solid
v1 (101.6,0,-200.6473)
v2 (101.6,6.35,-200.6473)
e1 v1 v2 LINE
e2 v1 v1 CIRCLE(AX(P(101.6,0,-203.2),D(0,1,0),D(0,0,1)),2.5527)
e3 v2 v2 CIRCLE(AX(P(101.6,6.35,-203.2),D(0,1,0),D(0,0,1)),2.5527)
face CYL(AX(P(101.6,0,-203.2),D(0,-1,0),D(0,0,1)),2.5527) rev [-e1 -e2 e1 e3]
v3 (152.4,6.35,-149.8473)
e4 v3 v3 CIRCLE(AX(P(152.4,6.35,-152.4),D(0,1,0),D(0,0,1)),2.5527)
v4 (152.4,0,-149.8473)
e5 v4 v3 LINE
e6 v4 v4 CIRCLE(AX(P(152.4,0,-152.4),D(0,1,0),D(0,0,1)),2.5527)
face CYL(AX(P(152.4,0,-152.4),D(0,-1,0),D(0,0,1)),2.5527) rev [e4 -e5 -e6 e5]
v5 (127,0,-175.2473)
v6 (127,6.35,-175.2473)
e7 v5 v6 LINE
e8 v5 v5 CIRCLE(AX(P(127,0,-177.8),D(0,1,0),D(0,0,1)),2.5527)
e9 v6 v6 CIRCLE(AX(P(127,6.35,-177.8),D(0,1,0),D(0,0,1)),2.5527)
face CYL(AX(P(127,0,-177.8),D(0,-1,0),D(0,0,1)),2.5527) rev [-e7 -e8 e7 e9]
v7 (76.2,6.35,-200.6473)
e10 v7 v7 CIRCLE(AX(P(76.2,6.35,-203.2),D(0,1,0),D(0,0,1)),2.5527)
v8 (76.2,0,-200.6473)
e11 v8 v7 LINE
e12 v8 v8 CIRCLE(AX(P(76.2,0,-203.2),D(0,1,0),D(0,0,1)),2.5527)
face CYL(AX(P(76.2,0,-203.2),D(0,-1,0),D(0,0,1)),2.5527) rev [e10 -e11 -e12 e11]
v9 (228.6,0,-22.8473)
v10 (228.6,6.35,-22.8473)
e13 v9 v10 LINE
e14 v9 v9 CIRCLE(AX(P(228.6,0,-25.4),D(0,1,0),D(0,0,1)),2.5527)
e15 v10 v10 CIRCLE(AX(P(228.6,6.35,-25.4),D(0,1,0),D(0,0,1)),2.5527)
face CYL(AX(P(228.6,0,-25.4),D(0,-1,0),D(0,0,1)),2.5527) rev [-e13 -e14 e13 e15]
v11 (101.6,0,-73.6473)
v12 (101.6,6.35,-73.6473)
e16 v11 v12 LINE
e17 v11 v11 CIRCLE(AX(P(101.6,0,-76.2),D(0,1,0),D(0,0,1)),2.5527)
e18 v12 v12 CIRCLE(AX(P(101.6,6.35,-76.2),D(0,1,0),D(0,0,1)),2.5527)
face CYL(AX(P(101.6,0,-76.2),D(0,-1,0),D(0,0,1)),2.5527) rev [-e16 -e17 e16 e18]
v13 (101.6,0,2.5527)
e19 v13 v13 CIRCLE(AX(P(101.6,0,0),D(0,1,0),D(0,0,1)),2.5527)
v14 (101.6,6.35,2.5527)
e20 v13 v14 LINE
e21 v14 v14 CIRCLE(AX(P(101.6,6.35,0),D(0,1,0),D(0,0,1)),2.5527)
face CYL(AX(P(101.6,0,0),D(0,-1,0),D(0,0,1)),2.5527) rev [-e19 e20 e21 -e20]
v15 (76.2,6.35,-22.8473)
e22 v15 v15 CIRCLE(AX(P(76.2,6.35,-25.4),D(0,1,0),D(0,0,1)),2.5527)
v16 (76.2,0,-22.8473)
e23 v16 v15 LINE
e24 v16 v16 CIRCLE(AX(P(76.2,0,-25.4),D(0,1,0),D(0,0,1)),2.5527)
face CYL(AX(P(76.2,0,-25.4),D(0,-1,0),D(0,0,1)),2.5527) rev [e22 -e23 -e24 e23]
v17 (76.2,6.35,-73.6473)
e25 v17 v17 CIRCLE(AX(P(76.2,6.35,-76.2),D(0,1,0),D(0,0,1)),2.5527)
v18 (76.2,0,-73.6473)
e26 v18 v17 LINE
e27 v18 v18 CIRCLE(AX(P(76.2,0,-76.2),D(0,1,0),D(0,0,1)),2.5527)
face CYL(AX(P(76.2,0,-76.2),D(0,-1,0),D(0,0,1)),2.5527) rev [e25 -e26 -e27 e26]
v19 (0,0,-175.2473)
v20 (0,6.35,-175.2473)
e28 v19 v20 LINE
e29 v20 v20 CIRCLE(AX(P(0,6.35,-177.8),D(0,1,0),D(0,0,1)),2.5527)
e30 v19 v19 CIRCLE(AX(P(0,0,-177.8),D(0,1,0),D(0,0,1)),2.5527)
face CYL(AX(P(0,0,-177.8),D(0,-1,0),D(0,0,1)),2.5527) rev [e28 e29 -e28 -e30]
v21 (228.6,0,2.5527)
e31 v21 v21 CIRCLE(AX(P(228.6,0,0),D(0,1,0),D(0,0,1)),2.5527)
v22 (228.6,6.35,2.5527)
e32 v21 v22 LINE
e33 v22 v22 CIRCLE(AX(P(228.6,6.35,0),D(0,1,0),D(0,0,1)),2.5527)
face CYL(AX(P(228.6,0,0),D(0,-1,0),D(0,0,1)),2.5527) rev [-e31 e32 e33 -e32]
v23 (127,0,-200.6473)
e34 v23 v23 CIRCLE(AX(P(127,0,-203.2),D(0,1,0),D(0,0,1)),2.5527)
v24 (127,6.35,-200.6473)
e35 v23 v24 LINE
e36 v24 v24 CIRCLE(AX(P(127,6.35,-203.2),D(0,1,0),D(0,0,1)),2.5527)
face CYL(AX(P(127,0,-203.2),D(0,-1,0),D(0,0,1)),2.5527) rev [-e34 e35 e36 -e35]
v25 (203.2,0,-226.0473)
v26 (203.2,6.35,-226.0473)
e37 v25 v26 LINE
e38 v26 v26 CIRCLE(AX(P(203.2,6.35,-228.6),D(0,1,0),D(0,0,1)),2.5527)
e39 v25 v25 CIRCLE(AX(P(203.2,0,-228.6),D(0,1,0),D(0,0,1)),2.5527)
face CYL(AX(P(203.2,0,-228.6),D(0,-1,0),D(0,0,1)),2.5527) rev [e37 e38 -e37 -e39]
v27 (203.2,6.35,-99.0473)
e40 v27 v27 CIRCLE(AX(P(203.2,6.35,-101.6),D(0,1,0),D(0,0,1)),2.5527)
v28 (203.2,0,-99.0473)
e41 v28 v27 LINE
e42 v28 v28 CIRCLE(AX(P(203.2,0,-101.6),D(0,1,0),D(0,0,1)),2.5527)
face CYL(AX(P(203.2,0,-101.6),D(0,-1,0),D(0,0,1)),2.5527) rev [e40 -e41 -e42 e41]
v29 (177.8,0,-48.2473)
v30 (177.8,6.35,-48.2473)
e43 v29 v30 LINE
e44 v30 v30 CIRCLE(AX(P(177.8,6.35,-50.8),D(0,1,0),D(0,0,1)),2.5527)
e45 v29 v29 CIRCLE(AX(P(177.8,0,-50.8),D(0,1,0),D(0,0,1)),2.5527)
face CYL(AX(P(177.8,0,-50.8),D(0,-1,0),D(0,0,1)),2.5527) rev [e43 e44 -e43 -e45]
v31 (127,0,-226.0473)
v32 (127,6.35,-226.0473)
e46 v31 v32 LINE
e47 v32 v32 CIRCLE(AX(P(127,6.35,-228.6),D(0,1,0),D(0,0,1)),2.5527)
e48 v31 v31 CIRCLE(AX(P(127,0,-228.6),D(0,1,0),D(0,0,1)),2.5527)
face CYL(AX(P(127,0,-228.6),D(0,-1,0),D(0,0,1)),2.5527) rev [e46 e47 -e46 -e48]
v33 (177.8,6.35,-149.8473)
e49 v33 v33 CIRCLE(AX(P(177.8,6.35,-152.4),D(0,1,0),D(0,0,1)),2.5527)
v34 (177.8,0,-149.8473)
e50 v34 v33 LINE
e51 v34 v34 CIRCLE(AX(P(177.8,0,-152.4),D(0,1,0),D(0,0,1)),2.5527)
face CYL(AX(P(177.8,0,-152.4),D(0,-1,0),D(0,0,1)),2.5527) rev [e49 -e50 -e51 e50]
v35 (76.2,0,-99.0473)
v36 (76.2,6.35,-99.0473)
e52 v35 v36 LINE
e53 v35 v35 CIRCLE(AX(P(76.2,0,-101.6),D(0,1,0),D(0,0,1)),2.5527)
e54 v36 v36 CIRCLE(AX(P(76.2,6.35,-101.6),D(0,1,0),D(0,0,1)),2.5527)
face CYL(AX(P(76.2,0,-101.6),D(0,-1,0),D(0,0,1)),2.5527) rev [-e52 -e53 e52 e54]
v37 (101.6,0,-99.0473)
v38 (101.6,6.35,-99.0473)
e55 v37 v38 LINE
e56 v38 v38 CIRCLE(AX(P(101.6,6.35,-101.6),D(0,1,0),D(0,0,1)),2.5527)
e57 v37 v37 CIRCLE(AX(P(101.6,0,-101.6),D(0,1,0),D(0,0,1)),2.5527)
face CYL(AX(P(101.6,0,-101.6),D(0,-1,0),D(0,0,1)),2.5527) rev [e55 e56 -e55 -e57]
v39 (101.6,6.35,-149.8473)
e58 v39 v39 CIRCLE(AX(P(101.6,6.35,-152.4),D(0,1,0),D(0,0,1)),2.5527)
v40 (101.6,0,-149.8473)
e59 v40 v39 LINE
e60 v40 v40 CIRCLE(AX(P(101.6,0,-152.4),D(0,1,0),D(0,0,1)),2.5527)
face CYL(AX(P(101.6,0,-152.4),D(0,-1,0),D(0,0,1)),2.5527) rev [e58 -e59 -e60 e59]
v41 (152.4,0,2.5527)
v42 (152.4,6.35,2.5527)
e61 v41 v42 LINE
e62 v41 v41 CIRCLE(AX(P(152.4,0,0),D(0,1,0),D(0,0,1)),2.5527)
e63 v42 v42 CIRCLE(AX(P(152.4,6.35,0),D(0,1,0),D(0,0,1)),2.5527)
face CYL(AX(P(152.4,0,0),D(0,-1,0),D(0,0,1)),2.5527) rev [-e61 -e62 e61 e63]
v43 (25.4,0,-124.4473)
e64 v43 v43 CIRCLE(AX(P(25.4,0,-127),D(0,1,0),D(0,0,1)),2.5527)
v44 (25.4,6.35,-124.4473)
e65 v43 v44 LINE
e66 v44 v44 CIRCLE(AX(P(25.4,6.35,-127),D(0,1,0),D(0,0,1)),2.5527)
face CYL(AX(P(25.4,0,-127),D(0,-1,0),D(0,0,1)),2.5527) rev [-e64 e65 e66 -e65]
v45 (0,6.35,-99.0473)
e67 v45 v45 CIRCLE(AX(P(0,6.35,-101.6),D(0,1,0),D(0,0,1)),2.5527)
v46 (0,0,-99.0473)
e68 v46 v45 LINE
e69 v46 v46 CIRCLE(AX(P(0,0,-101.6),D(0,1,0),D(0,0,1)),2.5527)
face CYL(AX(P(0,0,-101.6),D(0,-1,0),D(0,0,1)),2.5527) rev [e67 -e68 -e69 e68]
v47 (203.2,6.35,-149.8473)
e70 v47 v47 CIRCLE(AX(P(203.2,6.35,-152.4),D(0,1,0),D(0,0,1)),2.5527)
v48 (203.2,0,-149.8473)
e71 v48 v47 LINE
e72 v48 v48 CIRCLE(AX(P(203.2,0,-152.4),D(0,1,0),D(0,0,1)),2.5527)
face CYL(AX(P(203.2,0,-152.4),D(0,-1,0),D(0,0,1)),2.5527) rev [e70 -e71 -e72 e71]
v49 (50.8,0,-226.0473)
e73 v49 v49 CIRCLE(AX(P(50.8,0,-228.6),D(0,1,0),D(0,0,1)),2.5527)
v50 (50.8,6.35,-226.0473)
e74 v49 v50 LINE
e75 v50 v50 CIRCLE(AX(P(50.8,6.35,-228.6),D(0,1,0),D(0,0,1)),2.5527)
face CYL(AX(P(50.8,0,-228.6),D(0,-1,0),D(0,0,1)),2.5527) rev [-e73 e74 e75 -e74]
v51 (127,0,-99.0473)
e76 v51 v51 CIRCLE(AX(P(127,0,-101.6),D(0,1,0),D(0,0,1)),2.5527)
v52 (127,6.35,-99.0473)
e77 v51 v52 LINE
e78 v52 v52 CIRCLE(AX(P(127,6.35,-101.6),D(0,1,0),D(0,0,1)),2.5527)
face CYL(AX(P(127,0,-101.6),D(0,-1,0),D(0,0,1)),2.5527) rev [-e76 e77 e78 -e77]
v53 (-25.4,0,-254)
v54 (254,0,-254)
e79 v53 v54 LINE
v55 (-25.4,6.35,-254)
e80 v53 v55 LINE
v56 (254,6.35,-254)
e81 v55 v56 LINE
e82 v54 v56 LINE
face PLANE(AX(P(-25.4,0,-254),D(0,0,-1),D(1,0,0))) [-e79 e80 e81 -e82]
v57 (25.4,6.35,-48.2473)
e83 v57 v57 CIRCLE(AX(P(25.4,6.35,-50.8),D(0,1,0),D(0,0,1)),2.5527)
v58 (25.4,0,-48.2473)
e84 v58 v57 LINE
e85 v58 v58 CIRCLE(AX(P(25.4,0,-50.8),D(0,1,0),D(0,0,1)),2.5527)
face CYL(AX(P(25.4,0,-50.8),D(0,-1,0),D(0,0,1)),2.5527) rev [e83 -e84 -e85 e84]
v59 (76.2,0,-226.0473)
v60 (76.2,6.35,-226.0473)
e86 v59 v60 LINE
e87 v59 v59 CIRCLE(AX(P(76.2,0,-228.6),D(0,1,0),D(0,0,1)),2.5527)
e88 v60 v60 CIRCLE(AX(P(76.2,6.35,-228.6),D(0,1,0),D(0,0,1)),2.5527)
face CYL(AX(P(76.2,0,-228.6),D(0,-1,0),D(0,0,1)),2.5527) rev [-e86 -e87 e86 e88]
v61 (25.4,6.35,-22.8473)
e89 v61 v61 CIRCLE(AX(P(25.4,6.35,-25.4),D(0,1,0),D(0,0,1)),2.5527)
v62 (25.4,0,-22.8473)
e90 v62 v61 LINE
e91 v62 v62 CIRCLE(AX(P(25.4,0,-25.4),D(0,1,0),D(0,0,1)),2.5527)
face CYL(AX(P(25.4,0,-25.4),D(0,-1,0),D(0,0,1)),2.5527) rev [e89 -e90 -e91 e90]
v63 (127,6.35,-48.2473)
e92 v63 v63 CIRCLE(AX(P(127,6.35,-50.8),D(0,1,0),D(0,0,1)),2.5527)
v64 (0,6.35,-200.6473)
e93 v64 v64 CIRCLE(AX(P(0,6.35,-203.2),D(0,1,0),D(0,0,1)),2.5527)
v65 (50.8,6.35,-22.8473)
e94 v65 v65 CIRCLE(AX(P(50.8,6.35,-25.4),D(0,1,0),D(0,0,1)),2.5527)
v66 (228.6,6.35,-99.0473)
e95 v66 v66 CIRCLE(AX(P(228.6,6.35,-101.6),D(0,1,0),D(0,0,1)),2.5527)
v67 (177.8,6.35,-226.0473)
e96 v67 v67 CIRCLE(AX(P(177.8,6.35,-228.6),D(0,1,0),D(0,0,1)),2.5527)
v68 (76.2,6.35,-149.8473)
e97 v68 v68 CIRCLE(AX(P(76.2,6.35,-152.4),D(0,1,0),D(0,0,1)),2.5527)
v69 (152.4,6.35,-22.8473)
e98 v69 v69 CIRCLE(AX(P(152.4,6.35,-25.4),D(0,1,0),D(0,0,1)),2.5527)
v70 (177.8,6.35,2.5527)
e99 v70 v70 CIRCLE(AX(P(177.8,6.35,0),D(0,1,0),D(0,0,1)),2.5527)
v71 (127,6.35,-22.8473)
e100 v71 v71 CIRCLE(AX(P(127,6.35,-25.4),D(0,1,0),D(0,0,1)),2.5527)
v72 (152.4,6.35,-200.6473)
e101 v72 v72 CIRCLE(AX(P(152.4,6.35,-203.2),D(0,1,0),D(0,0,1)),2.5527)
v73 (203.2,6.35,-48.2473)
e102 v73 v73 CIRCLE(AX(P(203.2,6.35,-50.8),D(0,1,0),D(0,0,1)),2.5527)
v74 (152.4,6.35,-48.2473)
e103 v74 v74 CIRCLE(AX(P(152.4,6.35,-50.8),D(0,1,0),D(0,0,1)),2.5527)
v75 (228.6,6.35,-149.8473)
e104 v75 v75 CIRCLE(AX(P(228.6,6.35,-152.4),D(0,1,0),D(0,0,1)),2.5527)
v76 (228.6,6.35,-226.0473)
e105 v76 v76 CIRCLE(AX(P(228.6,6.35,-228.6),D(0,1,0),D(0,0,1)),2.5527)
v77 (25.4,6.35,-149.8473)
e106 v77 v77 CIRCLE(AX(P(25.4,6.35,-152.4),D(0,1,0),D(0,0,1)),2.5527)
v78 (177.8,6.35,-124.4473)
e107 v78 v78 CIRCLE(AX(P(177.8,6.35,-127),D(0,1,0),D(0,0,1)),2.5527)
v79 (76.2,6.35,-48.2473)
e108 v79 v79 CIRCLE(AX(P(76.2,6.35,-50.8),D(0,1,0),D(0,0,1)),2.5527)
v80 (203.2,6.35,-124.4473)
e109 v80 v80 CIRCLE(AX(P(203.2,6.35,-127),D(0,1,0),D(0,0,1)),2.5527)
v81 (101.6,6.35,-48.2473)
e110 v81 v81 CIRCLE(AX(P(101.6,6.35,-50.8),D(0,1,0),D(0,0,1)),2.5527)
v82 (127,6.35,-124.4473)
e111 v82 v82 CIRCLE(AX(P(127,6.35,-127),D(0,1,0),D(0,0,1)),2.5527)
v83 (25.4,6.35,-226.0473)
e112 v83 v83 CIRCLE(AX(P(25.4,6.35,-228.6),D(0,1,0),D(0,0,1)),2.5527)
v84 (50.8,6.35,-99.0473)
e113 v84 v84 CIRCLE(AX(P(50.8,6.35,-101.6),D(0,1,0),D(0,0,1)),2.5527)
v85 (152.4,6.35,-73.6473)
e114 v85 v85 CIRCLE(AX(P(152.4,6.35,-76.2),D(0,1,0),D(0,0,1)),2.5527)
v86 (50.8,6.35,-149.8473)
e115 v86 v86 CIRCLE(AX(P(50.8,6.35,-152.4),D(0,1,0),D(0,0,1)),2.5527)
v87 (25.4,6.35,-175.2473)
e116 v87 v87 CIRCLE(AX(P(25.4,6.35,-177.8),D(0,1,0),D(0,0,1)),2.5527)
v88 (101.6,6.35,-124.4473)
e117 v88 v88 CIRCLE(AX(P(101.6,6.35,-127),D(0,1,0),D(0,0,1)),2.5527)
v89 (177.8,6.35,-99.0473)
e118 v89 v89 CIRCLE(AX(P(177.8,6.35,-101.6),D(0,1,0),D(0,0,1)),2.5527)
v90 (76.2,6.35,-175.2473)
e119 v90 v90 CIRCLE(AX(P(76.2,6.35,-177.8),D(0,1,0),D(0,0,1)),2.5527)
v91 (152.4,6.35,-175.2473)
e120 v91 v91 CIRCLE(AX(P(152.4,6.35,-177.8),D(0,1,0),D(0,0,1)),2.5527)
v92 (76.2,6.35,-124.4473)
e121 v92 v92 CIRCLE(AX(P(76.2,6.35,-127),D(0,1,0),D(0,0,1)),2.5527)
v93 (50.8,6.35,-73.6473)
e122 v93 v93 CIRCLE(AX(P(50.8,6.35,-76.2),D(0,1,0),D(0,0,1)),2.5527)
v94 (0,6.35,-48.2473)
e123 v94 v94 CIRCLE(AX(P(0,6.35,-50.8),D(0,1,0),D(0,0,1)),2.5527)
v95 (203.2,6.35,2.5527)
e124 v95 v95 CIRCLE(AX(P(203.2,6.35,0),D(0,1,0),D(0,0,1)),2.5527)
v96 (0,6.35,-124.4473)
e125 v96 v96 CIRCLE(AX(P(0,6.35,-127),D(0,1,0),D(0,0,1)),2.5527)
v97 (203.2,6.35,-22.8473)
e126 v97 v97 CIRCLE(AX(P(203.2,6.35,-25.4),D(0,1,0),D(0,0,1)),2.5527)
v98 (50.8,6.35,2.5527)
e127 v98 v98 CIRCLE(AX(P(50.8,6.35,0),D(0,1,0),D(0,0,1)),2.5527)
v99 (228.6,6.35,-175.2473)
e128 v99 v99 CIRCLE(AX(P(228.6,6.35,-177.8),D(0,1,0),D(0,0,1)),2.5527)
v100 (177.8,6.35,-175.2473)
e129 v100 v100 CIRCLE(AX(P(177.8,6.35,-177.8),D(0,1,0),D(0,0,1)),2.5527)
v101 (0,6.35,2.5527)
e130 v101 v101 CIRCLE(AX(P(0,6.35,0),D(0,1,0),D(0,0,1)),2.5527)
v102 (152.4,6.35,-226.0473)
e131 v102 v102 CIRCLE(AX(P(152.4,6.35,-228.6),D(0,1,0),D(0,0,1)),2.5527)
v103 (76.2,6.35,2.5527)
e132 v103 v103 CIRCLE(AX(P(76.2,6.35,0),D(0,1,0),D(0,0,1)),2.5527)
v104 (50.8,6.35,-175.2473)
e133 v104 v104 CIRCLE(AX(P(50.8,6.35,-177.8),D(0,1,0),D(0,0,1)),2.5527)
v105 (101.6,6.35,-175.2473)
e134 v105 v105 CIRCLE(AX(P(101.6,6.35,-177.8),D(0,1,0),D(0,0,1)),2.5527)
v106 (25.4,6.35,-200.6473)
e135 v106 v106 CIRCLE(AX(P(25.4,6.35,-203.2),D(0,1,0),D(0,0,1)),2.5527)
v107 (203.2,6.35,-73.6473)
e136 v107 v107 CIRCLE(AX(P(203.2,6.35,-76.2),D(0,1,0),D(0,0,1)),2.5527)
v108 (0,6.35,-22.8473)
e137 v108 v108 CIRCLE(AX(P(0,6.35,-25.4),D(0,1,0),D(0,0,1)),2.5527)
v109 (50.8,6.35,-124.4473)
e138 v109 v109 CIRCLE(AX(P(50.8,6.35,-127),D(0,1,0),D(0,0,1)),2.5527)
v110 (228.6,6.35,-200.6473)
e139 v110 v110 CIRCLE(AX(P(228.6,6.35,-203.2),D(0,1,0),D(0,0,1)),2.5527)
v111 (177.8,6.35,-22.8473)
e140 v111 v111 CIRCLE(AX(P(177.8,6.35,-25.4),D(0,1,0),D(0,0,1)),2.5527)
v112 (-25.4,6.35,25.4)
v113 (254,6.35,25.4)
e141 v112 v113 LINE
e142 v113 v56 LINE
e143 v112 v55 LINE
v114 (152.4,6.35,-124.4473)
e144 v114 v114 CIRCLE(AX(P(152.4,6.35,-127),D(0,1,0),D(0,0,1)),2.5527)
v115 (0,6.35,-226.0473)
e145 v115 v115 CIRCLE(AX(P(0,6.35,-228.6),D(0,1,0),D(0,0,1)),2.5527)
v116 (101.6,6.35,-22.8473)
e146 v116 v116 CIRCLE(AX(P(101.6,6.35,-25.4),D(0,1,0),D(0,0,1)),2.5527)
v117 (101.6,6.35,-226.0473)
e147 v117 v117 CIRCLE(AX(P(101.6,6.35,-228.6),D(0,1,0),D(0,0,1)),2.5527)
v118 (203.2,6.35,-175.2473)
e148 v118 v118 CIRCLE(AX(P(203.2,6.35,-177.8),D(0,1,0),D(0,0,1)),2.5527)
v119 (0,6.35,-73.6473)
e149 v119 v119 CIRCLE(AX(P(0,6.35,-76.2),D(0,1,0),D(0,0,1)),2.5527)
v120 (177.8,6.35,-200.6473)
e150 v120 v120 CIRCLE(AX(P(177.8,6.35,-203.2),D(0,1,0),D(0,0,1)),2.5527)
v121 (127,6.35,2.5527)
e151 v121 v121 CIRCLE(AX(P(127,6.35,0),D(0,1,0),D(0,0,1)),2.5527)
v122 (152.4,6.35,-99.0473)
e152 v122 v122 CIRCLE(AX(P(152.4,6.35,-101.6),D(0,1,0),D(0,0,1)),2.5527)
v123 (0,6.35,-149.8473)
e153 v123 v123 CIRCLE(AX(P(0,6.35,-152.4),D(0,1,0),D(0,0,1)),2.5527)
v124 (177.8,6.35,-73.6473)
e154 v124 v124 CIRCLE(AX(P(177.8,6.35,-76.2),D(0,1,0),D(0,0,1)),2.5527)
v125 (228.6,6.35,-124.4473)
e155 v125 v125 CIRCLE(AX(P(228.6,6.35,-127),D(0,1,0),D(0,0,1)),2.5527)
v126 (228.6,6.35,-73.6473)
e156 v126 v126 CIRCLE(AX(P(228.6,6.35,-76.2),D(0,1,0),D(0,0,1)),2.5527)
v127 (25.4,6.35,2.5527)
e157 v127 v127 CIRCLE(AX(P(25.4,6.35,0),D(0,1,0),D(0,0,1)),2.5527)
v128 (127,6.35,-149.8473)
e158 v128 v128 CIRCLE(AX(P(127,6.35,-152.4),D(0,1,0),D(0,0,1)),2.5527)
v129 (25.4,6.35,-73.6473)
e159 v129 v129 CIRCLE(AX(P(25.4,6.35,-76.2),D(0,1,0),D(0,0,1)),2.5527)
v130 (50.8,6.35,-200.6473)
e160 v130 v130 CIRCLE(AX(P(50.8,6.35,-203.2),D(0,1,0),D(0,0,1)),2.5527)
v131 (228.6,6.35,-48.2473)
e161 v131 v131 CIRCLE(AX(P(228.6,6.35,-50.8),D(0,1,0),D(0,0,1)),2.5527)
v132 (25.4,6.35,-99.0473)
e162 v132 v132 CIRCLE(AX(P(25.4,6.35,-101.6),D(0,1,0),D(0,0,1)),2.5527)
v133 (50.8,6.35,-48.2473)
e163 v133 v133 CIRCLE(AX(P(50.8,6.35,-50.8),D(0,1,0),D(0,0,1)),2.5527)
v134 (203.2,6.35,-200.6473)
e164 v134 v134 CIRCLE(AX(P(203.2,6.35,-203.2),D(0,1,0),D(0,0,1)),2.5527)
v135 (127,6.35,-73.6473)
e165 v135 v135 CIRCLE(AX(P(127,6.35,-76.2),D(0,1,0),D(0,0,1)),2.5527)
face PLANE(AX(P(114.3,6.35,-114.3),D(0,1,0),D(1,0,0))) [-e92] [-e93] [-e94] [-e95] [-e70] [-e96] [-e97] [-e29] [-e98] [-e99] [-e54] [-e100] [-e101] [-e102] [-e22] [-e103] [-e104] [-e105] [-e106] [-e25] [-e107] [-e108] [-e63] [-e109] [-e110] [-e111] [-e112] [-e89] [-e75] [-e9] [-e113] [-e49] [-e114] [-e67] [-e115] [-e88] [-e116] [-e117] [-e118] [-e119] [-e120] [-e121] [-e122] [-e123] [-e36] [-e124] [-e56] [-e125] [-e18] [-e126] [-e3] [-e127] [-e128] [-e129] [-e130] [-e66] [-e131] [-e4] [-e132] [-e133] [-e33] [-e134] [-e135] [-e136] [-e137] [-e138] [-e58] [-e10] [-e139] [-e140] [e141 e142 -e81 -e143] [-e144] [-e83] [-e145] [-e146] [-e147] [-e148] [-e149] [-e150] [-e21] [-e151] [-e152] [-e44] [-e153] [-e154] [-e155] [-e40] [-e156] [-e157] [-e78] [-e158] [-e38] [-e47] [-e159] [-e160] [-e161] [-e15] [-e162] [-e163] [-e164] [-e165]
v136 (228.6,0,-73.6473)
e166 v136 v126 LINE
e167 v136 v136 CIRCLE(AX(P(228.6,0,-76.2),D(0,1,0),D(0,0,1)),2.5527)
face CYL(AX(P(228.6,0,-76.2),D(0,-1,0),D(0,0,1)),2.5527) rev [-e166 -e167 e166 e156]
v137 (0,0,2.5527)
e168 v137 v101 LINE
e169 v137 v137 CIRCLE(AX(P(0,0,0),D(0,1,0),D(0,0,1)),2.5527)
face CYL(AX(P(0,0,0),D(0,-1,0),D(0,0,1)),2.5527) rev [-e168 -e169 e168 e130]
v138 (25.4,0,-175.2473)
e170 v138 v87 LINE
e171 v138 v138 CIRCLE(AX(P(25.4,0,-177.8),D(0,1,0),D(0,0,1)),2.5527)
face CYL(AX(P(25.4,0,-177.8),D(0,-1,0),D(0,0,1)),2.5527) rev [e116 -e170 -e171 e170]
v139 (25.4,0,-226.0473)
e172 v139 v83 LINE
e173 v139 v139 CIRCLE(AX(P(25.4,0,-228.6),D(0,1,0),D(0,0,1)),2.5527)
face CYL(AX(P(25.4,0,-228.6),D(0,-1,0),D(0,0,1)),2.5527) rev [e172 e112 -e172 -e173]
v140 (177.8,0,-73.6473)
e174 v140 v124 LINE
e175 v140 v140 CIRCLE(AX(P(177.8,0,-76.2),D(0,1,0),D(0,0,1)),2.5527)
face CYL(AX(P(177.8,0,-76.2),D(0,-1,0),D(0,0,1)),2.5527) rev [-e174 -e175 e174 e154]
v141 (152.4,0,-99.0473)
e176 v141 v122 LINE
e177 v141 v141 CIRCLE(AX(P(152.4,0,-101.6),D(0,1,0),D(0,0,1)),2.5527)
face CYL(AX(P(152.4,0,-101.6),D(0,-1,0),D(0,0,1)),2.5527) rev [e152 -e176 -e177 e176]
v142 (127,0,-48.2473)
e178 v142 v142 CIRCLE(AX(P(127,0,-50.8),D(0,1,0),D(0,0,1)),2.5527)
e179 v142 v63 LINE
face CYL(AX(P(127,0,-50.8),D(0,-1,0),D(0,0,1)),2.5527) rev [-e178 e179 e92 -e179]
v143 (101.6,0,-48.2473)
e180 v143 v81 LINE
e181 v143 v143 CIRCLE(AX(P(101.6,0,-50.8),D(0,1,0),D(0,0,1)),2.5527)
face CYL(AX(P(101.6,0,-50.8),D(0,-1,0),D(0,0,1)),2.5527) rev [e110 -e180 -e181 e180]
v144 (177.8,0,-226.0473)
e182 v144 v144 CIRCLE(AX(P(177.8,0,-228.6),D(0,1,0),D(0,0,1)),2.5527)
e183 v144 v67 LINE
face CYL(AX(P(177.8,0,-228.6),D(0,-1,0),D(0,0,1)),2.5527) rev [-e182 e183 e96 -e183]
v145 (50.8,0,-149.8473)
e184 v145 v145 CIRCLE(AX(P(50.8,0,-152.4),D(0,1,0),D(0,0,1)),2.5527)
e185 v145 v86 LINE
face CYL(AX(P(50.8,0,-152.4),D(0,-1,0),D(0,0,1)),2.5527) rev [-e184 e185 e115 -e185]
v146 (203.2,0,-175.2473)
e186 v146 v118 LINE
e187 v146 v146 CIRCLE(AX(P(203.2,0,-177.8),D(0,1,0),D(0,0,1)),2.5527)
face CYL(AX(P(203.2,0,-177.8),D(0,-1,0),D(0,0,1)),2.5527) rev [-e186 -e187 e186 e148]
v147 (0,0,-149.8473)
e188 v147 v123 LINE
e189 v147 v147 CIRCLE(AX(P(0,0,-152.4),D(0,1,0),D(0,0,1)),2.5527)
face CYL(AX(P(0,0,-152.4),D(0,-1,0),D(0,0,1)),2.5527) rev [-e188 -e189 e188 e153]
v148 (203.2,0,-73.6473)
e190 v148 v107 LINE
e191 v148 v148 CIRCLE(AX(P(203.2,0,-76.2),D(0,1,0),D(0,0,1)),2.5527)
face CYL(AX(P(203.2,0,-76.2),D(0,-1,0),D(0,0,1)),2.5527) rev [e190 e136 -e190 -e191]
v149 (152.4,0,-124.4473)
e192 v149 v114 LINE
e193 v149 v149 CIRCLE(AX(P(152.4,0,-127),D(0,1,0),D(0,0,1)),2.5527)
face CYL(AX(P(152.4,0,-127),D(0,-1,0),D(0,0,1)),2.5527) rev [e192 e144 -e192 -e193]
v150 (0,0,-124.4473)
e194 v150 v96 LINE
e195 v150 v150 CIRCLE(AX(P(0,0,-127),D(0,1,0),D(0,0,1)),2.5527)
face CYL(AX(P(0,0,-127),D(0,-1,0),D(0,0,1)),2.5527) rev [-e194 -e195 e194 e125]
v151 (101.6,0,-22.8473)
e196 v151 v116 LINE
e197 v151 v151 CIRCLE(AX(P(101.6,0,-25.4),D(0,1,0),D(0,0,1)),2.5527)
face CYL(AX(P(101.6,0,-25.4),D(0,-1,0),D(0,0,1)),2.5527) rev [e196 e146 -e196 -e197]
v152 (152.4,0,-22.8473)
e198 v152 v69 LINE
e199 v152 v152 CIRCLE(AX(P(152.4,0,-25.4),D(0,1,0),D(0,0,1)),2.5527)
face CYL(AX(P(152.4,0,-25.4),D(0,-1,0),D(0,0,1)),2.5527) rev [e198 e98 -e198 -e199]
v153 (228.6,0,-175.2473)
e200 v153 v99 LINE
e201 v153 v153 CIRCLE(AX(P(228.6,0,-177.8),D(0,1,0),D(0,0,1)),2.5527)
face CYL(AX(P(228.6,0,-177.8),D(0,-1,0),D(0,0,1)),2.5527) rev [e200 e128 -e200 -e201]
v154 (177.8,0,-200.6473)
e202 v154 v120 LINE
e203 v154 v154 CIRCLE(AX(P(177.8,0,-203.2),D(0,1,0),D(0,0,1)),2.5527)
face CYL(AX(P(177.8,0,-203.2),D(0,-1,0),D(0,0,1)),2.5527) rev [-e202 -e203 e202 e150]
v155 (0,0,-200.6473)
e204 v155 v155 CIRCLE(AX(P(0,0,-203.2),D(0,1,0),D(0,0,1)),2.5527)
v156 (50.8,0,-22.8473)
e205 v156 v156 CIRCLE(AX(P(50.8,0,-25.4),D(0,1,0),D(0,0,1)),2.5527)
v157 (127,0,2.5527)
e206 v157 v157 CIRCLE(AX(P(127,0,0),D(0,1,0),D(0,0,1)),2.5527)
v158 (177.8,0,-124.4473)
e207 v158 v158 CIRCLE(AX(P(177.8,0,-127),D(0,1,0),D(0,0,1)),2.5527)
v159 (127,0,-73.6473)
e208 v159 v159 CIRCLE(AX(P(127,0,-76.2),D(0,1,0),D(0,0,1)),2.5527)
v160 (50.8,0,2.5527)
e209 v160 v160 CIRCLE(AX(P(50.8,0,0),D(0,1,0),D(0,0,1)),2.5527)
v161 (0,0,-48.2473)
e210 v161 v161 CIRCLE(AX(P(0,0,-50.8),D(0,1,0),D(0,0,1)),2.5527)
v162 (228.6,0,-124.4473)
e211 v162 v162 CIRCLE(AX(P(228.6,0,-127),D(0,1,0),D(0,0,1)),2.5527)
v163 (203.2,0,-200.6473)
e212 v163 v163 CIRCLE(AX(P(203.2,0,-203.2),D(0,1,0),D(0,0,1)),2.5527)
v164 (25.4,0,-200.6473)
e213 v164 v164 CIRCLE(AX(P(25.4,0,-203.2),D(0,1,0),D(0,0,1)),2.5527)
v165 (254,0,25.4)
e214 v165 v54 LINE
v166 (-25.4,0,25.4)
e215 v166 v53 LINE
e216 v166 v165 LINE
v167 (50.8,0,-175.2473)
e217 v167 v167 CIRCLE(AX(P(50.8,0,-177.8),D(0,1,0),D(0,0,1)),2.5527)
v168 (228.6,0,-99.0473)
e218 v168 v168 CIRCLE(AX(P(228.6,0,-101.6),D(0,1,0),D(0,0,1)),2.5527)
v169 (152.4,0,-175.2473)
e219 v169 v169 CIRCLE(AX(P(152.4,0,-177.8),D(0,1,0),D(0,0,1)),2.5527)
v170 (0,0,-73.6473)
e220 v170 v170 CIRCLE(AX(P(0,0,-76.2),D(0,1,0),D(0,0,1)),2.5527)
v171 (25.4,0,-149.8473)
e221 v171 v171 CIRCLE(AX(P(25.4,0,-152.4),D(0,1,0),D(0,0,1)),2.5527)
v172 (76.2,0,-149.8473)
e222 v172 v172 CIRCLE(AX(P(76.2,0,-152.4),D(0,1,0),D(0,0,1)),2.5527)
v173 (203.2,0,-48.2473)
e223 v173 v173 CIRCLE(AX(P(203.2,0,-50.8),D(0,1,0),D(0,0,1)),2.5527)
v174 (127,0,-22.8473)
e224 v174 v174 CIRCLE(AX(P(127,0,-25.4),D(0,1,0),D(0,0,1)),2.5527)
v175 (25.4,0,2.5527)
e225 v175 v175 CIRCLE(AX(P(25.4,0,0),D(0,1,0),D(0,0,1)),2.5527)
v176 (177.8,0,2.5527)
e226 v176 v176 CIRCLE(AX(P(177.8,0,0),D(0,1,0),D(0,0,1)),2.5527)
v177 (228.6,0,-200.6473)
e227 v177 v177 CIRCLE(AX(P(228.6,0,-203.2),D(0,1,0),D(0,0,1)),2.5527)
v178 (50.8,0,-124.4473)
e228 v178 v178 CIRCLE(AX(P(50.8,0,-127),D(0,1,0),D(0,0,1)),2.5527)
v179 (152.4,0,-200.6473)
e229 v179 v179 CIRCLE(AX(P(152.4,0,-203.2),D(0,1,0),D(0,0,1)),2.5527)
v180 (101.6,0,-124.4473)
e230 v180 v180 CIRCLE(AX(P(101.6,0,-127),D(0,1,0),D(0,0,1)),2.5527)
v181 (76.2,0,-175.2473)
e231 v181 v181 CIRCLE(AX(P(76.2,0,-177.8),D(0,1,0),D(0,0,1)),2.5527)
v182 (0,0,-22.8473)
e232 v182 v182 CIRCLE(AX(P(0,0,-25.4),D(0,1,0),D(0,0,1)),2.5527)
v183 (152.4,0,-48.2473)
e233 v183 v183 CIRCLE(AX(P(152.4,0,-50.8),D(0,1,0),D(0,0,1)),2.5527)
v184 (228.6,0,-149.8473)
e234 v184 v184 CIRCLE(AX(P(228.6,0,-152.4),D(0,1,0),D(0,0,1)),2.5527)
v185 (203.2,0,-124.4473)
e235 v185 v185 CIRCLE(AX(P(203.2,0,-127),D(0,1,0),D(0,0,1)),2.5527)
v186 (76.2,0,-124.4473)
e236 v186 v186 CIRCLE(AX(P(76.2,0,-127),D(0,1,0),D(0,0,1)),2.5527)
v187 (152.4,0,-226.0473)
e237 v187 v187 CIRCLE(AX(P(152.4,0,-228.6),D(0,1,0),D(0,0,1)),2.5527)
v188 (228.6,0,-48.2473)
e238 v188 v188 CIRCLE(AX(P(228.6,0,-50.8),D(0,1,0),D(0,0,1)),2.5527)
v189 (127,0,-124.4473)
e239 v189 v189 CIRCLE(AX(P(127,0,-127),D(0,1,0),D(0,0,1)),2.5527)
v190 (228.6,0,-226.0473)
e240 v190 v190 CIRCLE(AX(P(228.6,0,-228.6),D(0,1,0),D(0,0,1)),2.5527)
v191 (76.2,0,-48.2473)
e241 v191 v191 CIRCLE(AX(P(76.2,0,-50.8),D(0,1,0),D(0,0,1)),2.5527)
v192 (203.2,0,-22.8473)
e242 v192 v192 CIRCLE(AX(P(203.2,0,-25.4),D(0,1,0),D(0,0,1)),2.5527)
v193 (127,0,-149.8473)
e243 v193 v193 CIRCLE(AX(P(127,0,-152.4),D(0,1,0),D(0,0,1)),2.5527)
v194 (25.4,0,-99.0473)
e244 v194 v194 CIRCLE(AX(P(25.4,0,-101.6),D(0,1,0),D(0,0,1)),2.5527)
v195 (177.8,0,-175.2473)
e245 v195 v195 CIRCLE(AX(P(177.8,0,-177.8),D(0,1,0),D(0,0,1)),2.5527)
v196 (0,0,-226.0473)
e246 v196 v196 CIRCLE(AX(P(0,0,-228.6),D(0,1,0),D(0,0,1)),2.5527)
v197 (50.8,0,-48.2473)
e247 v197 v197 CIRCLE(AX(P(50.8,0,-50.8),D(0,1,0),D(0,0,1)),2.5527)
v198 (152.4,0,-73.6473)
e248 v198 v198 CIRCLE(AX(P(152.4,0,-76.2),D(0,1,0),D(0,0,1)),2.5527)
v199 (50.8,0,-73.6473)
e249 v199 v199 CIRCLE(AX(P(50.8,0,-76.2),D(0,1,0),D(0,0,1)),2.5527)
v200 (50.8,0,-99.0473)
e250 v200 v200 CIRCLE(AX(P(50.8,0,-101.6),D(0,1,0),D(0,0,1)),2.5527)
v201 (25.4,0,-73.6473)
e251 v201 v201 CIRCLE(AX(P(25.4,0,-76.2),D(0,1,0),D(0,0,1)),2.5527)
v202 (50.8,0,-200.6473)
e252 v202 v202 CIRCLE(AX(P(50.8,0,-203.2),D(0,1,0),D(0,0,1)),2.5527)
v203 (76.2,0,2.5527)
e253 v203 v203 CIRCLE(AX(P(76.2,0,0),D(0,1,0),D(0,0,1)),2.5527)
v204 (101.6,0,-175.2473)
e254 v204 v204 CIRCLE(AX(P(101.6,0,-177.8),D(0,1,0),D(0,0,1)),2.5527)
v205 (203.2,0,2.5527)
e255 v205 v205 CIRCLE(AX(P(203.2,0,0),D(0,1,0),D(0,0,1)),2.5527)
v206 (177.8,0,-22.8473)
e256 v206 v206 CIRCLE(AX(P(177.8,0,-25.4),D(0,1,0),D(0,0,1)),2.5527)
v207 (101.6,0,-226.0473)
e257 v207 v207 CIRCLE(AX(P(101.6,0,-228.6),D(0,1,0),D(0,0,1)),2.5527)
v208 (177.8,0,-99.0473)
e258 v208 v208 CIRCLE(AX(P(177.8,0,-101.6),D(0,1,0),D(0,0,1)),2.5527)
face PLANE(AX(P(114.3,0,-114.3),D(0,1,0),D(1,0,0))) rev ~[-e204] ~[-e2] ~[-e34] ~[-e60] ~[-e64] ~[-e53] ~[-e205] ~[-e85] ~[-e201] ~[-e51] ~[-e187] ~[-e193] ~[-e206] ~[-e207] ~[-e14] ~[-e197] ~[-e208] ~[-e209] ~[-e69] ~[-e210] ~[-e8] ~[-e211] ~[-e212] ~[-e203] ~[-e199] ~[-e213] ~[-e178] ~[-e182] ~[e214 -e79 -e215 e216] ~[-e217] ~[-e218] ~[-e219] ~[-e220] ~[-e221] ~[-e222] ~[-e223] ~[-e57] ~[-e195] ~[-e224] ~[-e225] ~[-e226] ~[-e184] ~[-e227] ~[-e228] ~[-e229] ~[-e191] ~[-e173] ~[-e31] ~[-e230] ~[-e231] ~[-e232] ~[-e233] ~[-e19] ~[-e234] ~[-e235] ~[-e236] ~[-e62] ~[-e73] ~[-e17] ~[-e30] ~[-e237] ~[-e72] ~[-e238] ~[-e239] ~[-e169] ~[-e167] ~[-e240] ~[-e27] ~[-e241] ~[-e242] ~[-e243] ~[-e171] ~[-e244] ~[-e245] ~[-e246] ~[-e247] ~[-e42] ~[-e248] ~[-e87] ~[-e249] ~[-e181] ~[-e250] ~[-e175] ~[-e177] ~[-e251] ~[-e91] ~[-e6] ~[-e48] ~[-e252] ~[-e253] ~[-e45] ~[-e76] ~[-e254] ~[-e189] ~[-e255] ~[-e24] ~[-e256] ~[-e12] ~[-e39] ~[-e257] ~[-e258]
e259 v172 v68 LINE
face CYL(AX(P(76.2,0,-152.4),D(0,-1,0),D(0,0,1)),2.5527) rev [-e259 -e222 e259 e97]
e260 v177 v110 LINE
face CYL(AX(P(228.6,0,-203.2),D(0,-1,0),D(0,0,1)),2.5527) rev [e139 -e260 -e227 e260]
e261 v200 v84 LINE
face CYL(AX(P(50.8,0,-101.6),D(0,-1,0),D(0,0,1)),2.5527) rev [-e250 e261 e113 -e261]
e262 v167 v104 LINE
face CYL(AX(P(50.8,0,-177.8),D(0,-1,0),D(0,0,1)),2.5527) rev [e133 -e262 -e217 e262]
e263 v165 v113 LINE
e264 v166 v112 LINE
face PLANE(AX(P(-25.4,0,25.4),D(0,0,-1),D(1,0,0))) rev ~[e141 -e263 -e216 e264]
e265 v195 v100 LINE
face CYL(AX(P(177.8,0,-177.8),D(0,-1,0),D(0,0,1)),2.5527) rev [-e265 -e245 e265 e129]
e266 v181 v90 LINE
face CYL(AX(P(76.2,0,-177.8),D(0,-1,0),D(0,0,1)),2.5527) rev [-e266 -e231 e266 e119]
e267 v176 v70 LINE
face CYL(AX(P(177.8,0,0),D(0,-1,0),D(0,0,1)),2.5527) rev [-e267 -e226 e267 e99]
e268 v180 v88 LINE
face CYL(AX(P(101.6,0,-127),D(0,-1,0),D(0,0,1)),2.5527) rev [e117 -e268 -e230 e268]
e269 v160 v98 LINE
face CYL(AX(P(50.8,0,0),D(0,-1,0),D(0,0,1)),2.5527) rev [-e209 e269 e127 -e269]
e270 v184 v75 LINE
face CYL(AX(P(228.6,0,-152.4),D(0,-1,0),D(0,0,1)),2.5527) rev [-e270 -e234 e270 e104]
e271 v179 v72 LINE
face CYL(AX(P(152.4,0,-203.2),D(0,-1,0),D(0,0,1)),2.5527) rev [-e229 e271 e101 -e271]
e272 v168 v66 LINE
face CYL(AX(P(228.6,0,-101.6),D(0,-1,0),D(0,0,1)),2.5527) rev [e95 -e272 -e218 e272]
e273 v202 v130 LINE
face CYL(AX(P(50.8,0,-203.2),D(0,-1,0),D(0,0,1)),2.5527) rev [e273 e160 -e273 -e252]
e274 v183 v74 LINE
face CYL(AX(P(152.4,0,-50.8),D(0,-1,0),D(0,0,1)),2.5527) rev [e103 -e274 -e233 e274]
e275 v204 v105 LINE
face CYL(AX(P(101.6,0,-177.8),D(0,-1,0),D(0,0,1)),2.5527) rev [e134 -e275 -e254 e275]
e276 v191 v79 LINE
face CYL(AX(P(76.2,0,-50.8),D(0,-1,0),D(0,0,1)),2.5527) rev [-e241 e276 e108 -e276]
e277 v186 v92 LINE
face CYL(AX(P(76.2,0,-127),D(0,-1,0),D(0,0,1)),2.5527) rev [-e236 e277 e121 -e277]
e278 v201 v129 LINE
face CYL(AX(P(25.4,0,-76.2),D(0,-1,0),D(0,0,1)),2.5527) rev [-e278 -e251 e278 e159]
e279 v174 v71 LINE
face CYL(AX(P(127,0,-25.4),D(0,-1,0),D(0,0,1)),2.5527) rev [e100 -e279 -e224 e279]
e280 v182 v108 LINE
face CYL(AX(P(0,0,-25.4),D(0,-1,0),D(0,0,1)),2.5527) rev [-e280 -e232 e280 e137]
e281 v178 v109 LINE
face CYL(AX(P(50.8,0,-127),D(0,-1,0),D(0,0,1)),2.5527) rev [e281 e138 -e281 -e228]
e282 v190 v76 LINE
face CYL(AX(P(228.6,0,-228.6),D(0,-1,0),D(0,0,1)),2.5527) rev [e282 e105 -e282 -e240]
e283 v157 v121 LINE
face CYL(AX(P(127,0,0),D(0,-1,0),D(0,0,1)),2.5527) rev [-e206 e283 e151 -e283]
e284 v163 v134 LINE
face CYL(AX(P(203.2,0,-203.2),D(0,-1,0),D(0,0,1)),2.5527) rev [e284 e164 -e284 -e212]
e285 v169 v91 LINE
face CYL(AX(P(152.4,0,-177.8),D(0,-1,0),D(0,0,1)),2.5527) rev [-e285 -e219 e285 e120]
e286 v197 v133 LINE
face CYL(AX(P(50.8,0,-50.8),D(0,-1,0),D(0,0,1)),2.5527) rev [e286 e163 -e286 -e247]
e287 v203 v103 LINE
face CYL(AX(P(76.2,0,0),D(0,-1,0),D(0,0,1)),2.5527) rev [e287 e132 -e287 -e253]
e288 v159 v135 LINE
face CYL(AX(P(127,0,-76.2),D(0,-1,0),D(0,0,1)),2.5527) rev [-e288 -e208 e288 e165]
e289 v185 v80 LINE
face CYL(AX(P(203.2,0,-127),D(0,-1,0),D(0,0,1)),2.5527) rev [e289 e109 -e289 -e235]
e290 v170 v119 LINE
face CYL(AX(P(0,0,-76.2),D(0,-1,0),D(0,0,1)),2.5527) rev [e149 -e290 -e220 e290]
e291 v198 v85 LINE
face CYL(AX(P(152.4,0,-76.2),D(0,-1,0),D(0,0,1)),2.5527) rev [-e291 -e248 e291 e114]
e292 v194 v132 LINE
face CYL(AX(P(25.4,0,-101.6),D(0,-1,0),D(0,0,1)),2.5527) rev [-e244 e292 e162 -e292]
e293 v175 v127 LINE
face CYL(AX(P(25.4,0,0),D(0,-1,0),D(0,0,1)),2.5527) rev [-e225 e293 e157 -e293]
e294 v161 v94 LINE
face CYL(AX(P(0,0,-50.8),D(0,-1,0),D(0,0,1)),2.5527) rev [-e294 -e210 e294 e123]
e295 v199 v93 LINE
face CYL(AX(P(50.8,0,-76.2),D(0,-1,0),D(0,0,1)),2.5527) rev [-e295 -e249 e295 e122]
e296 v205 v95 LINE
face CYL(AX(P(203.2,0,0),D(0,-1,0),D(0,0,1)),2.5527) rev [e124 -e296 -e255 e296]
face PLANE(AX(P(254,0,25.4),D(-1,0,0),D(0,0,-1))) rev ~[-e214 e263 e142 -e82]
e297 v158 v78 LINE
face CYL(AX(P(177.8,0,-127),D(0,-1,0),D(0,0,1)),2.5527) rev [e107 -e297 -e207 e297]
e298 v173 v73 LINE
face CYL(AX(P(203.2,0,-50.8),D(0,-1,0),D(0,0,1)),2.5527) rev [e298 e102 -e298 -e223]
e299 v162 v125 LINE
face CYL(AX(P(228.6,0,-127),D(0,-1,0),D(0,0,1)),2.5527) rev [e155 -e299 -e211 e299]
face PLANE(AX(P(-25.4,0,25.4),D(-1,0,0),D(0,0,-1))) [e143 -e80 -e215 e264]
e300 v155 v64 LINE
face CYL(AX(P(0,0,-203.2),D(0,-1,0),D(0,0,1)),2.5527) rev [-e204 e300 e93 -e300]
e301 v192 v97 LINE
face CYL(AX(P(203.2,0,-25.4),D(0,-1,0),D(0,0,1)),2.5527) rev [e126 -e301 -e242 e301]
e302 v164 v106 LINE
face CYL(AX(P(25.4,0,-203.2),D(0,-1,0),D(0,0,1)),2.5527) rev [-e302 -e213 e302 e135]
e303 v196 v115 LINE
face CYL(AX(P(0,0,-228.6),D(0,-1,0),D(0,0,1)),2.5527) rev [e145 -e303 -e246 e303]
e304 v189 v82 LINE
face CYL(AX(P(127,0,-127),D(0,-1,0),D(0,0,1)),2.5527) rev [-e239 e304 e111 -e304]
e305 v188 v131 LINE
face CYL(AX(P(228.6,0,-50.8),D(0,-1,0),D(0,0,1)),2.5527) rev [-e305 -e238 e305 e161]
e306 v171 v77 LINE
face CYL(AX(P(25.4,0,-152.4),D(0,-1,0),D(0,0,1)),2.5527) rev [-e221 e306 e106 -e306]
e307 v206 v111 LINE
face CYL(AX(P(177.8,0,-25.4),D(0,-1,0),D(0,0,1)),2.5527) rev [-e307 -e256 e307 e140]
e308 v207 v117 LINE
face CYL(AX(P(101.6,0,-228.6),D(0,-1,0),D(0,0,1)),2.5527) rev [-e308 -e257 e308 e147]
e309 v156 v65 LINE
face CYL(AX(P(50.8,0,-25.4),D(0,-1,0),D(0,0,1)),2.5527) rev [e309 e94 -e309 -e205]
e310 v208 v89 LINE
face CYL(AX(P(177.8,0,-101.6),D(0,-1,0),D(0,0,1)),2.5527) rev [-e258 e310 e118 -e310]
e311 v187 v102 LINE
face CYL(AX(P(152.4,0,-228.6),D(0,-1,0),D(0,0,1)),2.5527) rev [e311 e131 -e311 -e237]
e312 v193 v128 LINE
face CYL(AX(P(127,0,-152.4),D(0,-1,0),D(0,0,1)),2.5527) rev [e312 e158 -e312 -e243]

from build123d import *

# Parameters (mm, degrees)
SKETCH1_W           = 279.4
SKETCH1_H           = 279.4
SKETCH1_R           = 2.5527
BOSS_EXTRUDE1_DEPTH = 6.35


with BuildPart() as part:
    # Sketch1 → Boss-Extrude1 (new body)
    with BuildSketch(Plane(origin=(0, 0, 0), x_dir=(1, 0, 0), z_dir=(0, 1, 0))):
        with Locations((114.3, 114.3)):
            Rectangle(SKETCH1_W, SKETCH1_H)
        with Locations(Location((0, 0, 0), (0, 0, 270))):
            Circle(SKETCH1_R, mode=Mode.SUBTRACT)
        with Locations(Location((25.4, 0, 0), (0, 0, 270))):
            Circle(SKETCH1_R, mode=Mode.SUBTRACT)
        with Locations(Location((50.8, 0, 0), (0, 0, 270))):
            Circle(SKETCH1_R, mode=Mode.SUBTRACT)
        with Locations(Location((76.2, 0, 0), (0, 0, 270))):
            Circle(SKETCH1_R, mode=Mode.SUBTRACT)
        with Locations(Location((101.6, 0, 0), (0, 0, 270))):
            Circle(SKETCH1_R, mode=Mode.SUBTRACT)
        with Locations(Location((127, 0, 0), (0, 0, 270))):
            Circle(SKETCH1_R, mode=Mode.SUBTRACT)
        with Locations(Location((152.4, 0, 0), (0, 0, 270))):
            Circle(SKETCH1_R, mode=Mode.SUBTRACT)
        with Locations(Location((177.8, 0, 0), (0, 0, 270))):
            Circle(SKETCH1_R, mode=Mode.SUBTRACT)
        with Locations(Location((203.2, 0, 0), (0, 0, 270))):
            Circle(SKETCH1_R, mode=Mode.SUBTRACT)
        with Locations(Location((228.6, 0, 0), (0, 0, 270))):
            Circle(SKETCH1_R, mode=Mode.SUBTRACT)
        with Locations(Location((0, 25.4, 0), (0, 0, 270))):
            Circle(SKETCH1_R, mode=Mode.SUBTRACT)
        with Locations(Location((25.4, 25.4, 0), (0, 0, 270))):
            Circle(SKETCH1_R, mode=Mode.SUBTRACT)
        with Locations(Location((50.8, 25.4, 0), (0, 0, 270))):
            Circle(SKETCH1_R, mode=Mode.SUBTRACT)
        with Locations(Location((76.2, 25.4, 0), (0, 0, 270))):
            Circle(SKETCH1_R, mode=Mode.SUBTRACT)
        with Locations(Location((101.6, 25.4, 0), (0, 0, 270))):
            Circle(SKETCH1_R, mode=Mode.SUBTRACT)
        with Locations(Location((127, 25.4, 0), (0, 0, 270))):
            Circle(SKETCH1_R, mode=Mode.SUBTRACT)
        with Locations(Location((152.4, 25.4, 0), (0, 0, 270))):
            Circle(SKETCH1_R, mode=Mode.SUBTRACT)
        with Locations(Location((177.8, 25.4, 0), (0, 0, 270))):
            Circle(SKETCH1_R, mode=Mode.SUBTRACT)
        with Locations(Location((203.2, 25.4, 0), (0, 0, 270))):
            Circle(SKETCH1_R, mode=Mode.SUBTRACT)
        with Locations(Location((228.6, 25.4, 0), (0, 0, 270))):
            Circle(SKETCH1_R, mode=Mode.SUBTRACT)
        with Locations(Location((0, 50.8, 0), (0, 0, 270))):
            Circle(SKETCH1_R, mode=Mode.SUBTRACT)
        with Locations(Location((25.4, 50.8, 0), (0, 0, 270))):
            Circle(SKETCH1_R, mode=Mode.SUBTRACT)
        with Locations(Location((50.8, 50.8, 0), (0, 0, 270))):
            Circle(SKETCH1_R, mode=Mode.SUBTRACT)
        with Locations(Location((76.2, 50.8, 0), (0, 0, 270))):
            Circle(SKETCH1_R, mode=Mode.SUBTRACT)
        with Locations(Location((101.6, 50.8, 0), (0, 0, 270))):
            Circle(SKETCH1_R, mode=Mode.SUBTRACT)
        with Locations(Location((127, 50.8, 0), (0, 0, 270))):
            Circle(SKETCH1_R, mode=Mode.SUBTRACT)
        with Locations(Location((152.4, 50.8, 0), (0, 0, 270))):
            Circle(SKETCH1_R, mode=Mode.SUBTRACT)
        with Locations(Location((177.8, 50.8, 0), (0, 0, 270))):
            Circle(SKETCH1_R, mode=Mode.SUBTRACT)
        with Locations(Location((203.2, 50.8, 0), (0, 0, 270))):
            Circle(SKETCH1_R, mode=Mode.SUBTRACT)
        with Locations(Location((228.6, 50.8, 0), (0, 0, 270))):
            Circle(SKETCH1_R, mode=Mode.SUBTRACT)
        with Locations(Location((0, 76.2, 0), (0, 0, 270))):
            Circle(SKETCH1_R, mode=Mode.SUBTRACT)
        with Locations(Location((25.4, 76.2, 0), (0, 0, 270))):
            Circle(SKETCH1_R, mode=Mode.SUBTRACT)
        with Locations(Location((50.8, 76.2, 0), (0, 0, 270))):
            Circle(SKETCH1_R, mode=Mode.SUBTRACT)
        with Locations(Location((76.2, 76.2, 0), (0, 0, 270))):
            Circle(SKETCH1_R, mode=Mode.SUBTRACT)
        with Locations(Location((101.6, 76.2, 0), (0, 0, 270))):
            Circle(SKETCH1_R, mode=Mode.SUBTRACT)
        with Locations(Location((127, 76.2, 0), (0, 0, 270))):
            Circle(SKETCH1_R, mode=Mode.SUBTRACT)
        with Locations(Location((152.4, 76.2, 0), (0, 0, 270))):
            Circle(SKETCH1_R, mode=Mode.SUBTRACT)
        with Locations(Location((177.8, 76.2, 0), (0, 0, 270))):
            Circle(SKETCH1_R, mode=Mode.SUBTRACT)
        with Locations(Location((203.2, 76.2, 0), (0, 0, 270))):
            Circle(SKETCH1_R, mode=Mode.SUBTRACT)
        with Locations(Location((228.6, 76.2, 0), (0, 0, 270))):
            Circle(SKETCH1_R, mode=Mode.SUBTRACT)
        with Locations(Location((0, 101.6, 0), (0, 0, 270))):
            Circle(SKETCH1_R, mode=Mode.SUBTRACT)
        with Locations(Location((25.4, 101.6, 0), (0, 0, 270))):
            Circle(SKETCH1_R, mode=Mode.SUBTRACT)
        with Locations(Location((50.8, 101.6, 0), (0, 0, 270))):
            Circle(SKETCH1_R, mode=Mode.SUBTRACT)
        with Locations(Location((76.2, 101.6, 0), (0, 0, 270))):
            Circle(SKETCH1_R, mode=Mode.SUBTRACT)
        with Locations(Location((101.6, 101.6, 0), (0, 0, 270))):
            Circle(SKETCH1_R, mode=Mode.SUBTRACT)
        with Locations(Location((127, 101.6, 0), (0, 0, 270))):
            Circle(SKETCH1_R, mode=Mode.SUBTRACT)
        with Locations(Location((152.4, 101.6, 0), (0, 0, 270))):
            Circle(SKETCH1_R, mode=Mode.SUBTRACT)
        with Locations(Location((177.8, 101.6, 0), (0, 0, 270))):
            Circle(SKETCH1_R, mode=Mode.SUBTRACT)
        with Locations(Location((203.2, 101.6, 0), (0, 0, 270))):
            Circle(SKETCH1_R, mode=Mode.SUBTRACT)
        with Locations(Location((228.6, 101.6, 0), (0, 0, 270))):
            Circle(SKETCH1_R, mode=Mode.SUBTRACT)
        with Locations(Location((0, 127, 0), (0, 0, 270))):
            Circle(SKETCH1_R, mode=Mode.SUBTRACT)
        with Locations(Location((25.4, 127, 0), (0, 0, 270))):
            Circle(SKETCH1_R, mode=Mode.SUBTRACT)
        with Locations(Location((50.8, 127, 0), (0, 0, 270))):
            Circle(SKETCH1_R, mode=Mode.SUBTRACT)
        with Locations(Location((76.2, 127, 0), (0, 0, 270))):
            Circle(SKETCH1_R, mode=Mode.SUBTRACT)
        with Locations(Location((101.6, 127, 0), (0, 0, 270))):
            Circle(SKETCH1_R, mode=Mode.SUBTRACT)
        with Locations(Location((127, 127, 0), (0, 0, 270))):
            Circle(SKETCH1_R, mode=Mode.SUBTRACT)
        with Locations(Location((152.4, 127, 0), (0, 0, 270))):
            Circle(SKETCH1_R, mode=Mode.SUBTRACT)
        with Locations(Location((177.8, 127, 0), (0, 0, 270))):
            Circle(SKETCH1_R, mode=Mode.SUBTRACT)
        with Locations(Location((203.2, 127, 0), (0, 0, 270))):
            Circle(SKETCH1_R, mode=Mode.SUBTRACT)
        with Locations(Location((228.6, 127, 0), (0, 0, 270))):
            Circle(SKETCH1_R, mode=Mode.SUBTRACT)
        with Locations(Location((0, 152.4, 0), (0, 0, 270))):
            Circle(SKETCH1_R, mode=Mode.SUBTRACT)
        with Locations(Location((25.4, 152.4, 0), (0, 0, 270))):
            Circle(SKETCH1_R, mode=Mode.SUBTRACT)
        with Locations(Location((50.8, 152.4, 0), (0, 0, 270))):
            Circle(SKETCH1_R, mode=Mode.SUBTRACT)
        with Locations(Location((76.2, 152.4, 0), (0, 0, 270))):
            Circle(SKETCH1_R, mode=Mode.SUBTRACT)
        with Locations(Location((101.6, 152.4, 0), (0, 0, 270))):
            Circle(SKETCH1_R, mode=Mode.SUBTRACT)
        with Locations(Location((127, 152.4, 0), (0, 0, 270))):
            Circle(SKETCH1_R, mode=Mode.SUBTRACT)
        with Locations(Location((152.4, 152.4, 0), (0, 0, 270))):
            Circle(SKETCH1_R, mode=Mode.SUBTRACT)
        with Locations(Location((177.8, 152.4, 0), (0, 0, 270))):
            Circle(SKETCH1_R, mode=Mode.SUBTRACT)
        with Locations(Location((203.2, 152.4, 0), (0, 0, 270))):
            Circle(SKETCH1_R, mode=Mode.SUBTRACT)
        with Locations(Location((228.6, 152.4, 0), (0, 0, 270))):
            Circle(SKETCH1_R, mode=Mode.SUBTRACT)
        with Locations(Location((0, 177.8, 0), (0, 0, 270))):
            Circle(SKETCH1_R, mode=Mode.SUBTRACT)
        with Locations(Location((25.4, 177.8, 0), (0, 0, 270))):
            Circle(SKETCH1_R, mode=Mode.SUBTRACT)
        with Locations(Location((50.8, 177.8, 0), (0, 0, 270))):
            Circle(SKETCH1_R, mode=Mode.SUBTRACT)
        with Locations(Location((76.2, 177.8, 0), (0, 0, 270))):
            Circle(SKETCH1_R, mode=Mode.SUBTRACT)
        with Locations(Location((101.6, 177.8, 0), (0, 0, 270))):
            Circle(SKETCH1_R, mode=Mode.SUBTRACT)
        with Locations(Location((127, 177.8, 0), (0, 0, 270))):
            Circle(SKETCH1_R, mode=Mode.SUBTRACT)
        with Locations(Location((152.4, 177.8, 0), (0, 0, 270))):
            Circle(SKETCH1_R, mode=Mode.SUBTRACT)
        with Locations(Location((177.8, 177.8, 0), (0, 0, 270))):
            Circle(SKETCH1_R, mode=Mode.SUBTRACT)
        with Locations(Location((203.2, 177.8, 0), (0, 0, 270))):
            Circle(SKETCH1_R, mode=Mode.SUBTRACT)
        with Locations(Location((228.6, 177.8, 0), (0, 0, 270))):
            Circle(SKETCH1_R, mode=Mode.SUBTRACT)
        with Locations(Location((0, 203.2, 0), (0, 0, 270))):
            Circle(SKETCH1_R, mode=Mode.SUBTRACT)
        with Locations(Location((25.4, 203.2, 0), (0, 0, 270))):
            Circle(SKETCH1_R, mode=Mode.SUBTRACT)
        with Locations(Location((50.8, 203.2, 0), (0, 0, 270))):
            Circle(SKETCH1_R, mode=Mode.SUBTRACT)
        with Locations(Location((76.2, 203.2, 0), (0, 0, 270))):
            Circle(SKETCH1_R, mode=Mode.SUBTRACT)
        with Locations(Location((101.6, 203.2, 0), (0, 0, 270))):
            Circle(SKETCH1_R, mode=Mode.SUBTRACT)
        with Locations(Location((127, 203.2, 0), (0, 0, 270))):
            Circle(SKETCH1_R, mode=Mode.SUBTRACT)
        with Locations(Location((152.4, 203.2, 0), (0, 0, 270))):
            Circle(SKETCH1_R, mode=Mode.SUBTRACT)
        with Locations(Location((177.8, 203.2, 0), (0, 0, 270))):
            Circle(SKETCH1_R, mode=Mode.SUBTRACT)
        with Locations(Location((203.2, 203.2, 0), (0, 0, 270))):
            Circle(SKETCH1_R, mode=Mode.SUBTRACT)
        with Locations(Location((228.6, 203.2, 0), (0, 0, 270))):
            Circle(SKETCH1_R, mode=Mode.SUBTRACT)
        with Locations(Location((0, 228.6, 0), (0, 0, 270))):
            Circle(SKETCH1_R, mode=Mode.SUBTRACT)
        with Locations(Location((25.4, 228.6, 0), (0, 0, 270))):
            Circle(SKETCH1_R, mode=Mode.SUBTRACT)
        with Locations(Location((50.8, 228.6, 0), (0, 0, 270))):
            Circle(SKETCH1_R, mode=Mode.SUBTRACT)
        with Locations(Location((76.2, 228.6, 0), (0, 0, 270))):
            Circle(SKETCH1_R, mode=Mode.SUBTRACT)
        with Locations(Location((101.6, 228.6, 0), (0, 0, 270))):
            Circle(SKETCH1_R, mode=Mode.SUBTRACT)
        with Locations(Location((127, 228.6, 0), (0, 0, 270))):
            Circle(SKETCH1_R, mode=Mode.SUBTRACT)
        with Locations(Location((152.4, 228.6, 0), (0, 0, 270))):
            Circle(SKETCH1_R, mode=Mode.SUBTRACT)
        with Locations(Location((177.8, 228.6, 0), (0, 0, 270))):
            Circle(SKETCH1_R, mode=Mode.SUBTRACT)
        with Locations(Location((203.2, 228.6, 0), (0, 0, 270))):
            Circle(SKETCH1_R, mode=Mode.SUBTRACT)
        with Locations(Location((228.6, 228.6, 0), (0, 0, 270))):
            Circle(SKETCH1_R, mode=Mode.SUBTRACT)
    extrude(amount=BOSS_EXTRUDE1_DEPTH)


solid = part.part
